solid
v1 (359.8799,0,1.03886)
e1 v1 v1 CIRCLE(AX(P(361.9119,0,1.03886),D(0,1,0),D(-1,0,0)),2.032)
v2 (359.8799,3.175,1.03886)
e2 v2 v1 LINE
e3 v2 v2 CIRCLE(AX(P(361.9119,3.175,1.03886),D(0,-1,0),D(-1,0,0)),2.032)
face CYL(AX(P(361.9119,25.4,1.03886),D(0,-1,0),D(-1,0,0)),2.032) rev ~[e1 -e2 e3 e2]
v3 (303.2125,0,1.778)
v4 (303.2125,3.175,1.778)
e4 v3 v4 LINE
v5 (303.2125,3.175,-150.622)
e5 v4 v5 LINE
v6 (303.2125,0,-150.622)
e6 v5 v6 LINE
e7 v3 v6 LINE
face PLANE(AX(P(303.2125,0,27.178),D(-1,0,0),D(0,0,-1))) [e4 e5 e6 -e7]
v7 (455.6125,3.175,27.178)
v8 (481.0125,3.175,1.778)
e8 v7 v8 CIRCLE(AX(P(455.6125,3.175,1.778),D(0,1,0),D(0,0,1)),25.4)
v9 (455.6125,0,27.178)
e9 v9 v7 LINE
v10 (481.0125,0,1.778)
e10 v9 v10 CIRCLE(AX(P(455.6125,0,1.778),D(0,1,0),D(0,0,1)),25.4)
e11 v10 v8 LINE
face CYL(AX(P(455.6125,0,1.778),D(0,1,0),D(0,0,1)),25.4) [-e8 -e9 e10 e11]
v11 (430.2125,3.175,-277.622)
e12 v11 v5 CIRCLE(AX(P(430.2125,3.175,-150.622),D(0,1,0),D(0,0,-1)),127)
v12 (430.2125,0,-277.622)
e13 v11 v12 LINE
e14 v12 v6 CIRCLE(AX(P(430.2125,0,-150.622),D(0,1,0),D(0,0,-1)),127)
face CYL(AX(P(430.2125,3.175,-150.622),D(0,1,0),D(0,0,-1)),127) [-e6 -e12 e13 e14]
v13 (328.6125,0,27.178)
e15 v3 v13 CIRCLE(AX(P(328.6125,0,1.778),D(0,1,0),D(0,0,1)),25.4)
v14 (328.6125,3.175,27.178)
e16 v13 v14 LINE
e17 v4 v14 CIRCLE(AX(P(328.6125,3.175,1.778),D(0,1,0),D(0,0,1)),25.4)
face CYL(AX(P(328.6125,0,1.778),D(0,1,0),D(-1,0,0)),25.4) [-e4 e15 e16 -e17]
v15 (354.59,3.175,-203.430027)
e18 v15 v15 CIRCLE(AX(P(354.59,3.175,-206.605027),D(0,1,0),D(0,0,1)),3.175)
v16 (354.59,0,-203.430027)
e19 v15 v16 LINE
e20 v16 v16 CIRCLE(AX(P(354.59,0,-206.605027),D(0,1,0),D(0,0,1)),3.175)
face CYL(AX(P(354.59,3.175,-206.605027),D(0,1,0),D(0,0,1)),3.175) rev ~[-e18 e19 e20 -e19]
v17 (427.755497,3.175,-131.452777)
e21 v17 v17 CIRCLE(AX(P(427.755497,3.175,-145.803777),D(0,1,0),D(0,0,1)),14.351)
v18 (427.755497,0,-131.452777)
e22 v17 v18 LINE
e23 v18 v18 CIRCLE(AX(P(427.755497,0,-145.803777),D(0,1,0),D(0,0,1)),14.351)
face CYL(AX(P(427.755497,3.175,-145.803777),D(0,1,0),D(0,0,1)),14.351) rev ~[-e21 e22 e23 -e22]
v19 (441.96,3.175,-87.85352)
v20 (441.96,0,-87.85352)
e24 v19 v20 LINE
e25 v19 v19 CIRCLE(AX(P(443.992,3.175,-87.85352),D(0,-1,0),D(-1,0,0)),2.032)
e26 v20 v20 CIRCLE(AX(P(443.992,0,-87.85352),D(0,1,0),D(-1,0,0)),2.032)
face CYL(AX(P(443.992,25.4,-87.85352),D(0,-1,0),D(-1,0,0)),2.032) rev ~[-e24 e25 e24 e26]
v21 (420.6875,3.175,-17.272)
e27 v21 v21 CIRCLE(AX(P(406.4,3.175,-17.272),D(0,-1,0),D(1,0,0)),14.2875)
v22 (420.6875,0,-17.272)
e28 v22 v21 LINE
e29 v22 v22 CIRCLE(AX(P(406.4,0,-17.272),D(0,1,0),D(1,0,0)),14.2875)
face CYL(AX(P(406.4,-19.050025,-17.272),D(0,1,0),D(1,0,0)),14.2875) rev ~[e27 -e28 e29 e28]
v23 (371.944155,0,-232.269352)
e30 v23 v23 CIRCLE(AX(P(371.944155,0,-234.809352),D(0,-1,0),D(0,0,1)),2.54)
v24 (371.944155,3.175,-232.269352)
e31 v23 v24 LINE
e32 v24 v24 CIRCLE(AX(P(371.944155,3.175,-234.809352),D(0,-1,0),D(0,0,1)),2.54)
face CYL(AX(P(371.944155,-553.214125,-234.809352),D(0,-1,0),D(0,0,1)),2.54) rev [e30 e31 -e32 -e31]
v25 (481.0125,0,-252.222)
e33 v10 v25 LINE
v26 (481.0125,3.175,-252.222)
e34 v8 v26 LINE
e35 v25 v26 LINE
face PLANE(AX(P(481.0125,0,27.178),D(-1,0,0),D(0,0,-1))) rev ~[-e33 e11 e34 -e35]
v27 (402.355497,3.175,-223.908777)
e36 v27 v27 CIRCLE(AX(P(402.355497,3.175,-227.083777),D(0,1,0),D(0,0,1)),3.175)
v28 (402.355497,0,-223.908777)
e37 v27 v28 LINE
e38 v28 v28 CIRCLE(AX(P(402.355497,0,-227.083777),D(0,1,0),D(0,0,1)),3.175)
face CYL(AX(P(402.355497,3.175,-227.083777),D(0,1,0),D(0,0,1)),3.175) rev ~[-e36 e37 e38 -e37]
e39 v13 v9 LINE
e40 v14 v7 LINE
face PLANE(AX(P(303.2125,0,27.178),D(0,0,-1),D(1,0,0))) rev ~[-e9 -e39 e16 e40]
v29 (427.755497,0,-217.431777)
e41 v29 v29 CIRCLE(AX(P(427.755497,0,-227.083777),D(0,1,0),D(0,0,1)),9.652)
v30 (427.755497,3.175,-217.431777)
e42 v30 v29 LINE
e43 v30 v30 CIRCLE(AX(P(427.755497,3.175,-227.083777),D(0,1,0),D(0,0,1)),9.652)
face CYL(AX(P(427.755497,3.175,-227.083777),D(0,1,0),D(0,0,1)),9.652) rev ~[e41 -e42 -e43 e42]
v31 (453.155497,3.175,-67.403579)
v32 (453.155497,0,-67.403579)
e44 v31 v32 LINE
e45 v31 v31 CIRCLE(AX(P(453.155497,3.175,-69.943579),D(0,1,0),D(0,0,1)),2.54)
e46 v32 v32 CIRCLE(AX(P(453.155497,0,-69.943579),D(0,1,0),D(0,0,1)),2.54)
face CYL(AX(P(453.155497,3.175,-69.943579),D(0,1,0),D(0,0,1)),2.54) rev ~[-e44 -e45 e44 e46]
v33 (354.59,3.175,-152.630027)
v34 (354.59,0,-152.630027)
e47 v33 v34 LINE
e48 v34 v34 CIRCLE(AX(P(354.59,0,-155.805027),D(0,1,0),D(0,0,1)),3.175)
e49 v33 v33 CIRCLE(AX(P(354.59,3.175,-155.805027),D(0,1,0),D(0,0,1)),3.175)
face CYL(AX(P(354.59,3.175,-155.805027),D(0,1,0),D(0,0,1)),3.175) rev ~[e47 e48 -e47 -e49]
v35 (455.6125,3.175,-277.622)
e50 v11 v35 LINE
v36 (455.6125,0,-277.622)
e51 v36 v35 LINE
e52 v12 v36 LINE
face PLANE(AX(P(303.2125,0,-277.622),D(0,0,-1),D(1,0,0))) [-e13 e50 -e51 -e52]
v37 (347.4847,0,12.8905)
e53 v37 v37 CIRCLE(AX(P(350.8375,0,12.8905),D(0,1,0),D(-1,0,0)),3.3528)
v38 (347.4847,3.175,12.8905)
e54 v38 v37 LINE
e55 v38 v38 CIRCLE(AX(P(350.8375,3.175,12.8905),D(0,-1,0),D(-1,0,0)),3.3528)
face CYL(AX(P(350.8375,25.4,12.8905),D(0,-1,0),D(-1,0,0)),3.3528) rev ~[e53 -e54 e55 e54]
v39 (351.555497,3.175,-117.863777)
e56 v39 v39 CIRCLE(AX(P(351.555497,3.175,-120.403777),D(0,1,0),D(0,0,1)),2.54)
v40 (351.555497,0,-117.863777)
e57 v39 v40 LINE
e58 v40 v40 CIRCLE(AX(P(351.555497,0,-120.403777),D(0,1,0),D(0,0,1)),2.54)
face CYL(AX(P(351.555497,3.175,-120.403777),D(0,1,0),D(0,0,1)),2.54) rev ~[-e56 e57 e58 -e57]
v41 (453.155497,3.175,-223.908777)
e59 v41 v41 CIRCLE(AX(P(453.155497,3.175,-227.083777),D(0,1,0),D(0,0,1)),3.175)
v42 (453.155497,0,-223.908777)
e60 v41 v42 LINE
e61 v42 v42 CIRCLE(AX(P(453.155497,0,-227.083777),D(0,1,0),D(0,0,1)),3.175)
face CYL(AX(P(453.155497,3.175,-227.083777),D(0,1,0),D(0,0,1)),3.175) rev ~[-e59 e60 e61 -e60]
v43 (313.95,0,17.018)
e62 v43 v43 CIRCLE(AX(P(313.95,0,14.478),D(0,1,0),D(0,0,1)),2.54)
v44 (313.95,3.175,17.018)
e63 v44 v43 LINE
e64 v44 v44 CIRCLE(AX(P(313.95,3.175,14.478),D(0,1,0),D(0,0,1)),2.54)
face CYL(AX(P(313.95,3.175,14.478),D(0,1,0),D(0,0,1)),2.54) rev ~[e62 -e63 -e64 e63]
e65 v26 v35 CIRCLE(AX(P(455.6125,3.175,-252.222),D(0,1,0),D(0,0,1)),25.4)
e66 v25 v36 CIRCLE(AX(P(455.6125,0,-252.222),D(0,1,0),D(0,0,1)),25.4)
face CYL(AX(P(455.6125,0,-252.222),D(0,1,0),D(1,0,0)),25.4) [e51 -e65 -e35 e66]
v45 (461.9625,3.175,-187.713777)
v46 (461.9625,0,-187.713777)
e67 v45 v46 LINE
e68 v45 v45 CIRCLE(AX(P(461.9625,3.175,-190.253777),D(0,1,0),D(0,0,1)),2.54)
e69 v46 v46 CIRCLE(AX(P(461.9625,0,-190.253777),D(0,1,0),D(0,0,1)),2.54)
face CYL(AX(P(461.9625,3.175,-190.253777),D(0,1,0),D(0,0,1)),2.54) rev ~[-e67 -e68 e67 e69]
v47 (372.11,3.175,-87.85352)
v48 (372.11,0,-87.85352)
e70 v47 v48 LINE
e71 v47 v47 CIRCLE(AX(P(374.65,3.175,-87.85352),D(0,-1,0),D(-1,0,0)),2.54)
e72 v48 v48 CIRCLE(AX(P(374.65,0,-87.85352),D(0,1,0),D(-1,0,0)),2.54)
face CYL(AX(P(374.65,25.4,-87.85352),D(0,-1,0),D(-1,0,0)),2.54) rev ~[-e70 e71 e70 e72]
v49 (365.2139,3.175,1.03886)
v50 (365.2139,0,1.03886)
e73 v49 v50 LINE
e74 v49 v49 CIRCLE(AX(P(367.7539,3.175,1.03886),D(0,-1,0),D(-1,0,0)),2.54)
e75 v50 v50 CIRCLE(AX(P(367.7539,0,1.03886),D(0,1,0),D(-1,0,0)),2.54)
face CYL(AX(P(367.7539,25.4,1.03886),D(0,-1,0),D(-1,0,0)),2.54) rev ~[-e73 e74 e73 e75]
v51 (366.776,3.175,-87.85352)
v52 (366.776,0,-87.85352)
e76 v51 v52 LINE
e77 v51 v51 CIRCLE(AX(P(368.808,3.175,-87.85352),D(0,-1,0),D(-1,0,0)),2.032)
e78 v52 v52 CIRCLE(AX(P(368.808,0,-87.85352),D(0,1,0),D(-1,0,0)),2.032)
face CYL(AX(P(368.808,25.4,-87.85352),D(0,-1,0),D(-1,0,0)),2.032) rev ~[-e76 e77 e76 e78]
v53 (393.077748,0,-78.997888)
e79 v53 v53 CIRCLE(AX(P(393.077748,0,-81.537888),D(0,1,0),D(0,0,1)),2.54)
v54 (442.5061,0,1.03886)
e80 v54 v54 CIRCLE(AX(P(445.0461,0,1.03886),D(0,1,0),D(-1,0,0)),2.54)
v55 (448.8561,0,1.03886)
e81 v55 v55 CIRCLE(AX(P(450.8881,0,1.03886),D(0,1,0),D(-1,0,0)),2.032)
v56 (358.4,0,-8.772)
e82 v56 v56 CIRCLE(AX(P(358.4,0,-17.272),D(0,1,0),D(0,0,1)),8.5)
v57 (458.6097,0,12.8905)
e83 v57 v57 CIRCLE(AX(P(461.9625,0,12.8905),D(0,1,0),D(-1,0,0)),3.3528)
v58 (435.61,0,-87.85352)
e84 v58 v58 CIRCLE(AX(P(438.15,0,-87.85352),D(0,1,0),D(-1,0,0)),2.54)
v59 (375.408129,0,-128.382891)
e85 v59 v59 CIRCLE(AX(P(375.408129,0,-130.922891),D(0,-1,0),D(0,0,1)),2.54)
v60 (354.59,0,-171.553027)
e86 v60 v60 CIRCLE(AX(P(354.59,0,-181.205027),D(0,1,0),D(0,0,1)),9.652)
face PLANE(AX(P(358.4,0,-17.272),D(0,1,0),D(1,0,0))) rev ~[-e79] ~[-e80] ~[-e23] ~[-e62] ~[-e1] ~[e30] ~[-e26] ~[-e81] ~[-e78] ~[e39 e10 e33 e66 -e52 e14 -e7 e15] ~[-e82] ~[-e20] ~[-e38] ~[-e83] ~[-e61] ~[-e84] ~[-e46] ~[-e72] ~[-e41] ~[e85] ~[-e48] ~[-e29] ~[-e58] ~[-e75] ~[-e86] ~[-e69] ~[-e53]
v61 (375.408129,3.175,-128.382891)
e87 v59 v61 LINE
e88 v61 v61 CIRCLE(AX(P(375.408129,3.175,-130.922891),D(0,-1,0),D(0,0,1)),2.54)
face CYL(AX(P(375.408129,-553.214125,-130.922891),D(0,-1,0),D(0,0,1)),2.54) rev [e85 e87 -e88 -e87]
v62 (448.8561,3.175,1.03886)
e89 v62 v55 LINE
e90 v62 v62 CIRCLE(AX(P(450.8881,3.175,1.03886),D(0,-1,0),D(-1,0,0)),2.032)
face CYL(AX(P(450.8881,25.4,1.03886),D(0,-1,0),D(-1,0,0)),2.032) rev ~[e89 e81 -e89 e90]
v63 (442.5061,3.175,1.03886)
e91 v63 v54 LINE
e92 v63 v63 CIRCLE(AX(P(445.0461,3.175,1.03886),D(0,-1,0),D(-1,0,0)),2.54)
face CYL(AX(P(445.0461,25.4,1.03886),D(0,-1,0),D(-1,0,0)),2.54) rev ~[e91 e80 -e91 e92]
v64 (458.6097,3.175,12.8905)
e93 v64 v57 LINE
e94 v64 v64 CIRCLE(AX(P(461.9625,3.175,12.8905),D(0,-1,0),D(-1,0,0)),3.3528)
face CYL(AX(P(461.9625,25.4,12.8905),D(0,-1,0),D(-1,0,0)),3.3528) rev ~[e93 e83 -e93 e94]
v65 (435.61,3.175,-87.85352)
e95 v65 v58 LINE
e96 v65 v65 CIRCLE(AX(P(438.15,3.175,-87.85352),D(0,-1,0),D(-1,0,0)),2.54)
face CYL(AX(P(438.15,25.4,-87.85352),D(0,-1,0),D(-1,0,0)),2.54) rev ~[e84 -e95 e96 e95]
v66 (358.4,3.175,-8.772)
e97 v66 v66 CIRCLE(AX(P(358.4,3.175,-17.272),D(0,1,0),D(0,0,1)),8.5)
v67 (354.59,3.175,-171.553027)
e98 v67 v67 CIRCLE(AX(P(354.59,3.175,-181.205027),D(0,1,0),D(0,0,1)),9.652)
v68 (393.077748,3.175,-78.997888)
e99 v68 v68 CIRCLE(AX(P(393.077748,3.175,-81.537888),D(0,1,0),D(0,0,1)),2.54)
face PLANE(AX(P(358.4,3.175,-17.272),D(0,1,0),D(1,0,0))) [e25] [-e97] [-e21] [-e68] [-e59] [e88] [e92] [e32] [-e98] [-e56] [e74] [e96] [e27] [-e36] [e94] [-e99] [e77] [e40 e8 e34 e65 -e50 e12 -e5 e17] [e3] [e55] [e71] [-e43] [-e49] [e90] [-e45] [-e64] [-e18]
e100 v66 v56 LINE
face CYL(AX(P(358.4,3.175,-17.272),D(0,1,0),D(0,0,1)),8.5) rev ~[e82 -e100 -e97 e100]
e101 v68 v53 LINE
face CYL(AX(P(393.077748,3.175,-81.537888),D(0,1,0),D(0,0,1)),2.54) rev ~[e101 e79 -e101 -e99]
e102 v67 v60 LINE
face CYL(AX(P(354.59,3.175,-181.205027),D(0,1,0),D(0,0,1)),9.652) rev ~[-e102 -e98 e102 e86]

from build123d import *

# Parameters (mm, degrees)
SKETCH1_W                  = 355.6
SKETCH1_H                  = 77.724
BOSS_EXTRUDE1_DEPTH        = 22.225
SKETCH2_W                  = 74.549
SKETCH2_H                  = 19.05
CUT_EXTRUDE1_DEPTH         = 364.67400769
SKETCH3_W                  = 25.4
SKETCH3_H                  = 3.937
CUT_EXTRUDE2_DEPTH         = 817.444922817
SKETCH4_W                  = 330.2
SKETCH4_H                  = 3.175
BOSS_EXTRUDE2_DEPTH        = 15.875
SKETCH5_W                  = 69.85
SKETCH5_H                  = 3.175
BOSS_EXTRUDE3_DEPTH        = 457.2
SKETCH6_W                  = 330.2
SKETCH6_H                  = 3.175
BOSS_EXTRUDE4_DEPTH        = 3.937
SKETCH7_W                  = 330.2
SKETCH7_H                  = 3.175
BOSS_EXTRUDE5_DEPTH        = 15.875
SKETCH8_W                  = 355.6
SKETCH8_H                  = 3.175
BOSS_EXTRUDE6_DEPTH        = 3.937
SKETCH9_W                  = 355.6
SKETCH9_H                  = 3.175
BOSS_EXTRUDE7_DEPTH        = 19.05
SKETCH10_W                 = 76.358809824
SKETCH10_H                 = 3.175
BOSS_EXTRUDE8_DEPTH        = 27.432
SKETCH11_W                 = 124.052954744
SKETCH11_H                 = 3.175
BOSS_EXTRUDE9_DEPTH        = 19.05
DRAFT1_ANGLE               = 30
DRAFT2_ANGLE               = 19
M20_CLEARANCE_HOLE1_D      = 22.225
M20_CLEARANCE_HOLE1_DEPTH  = 19.050025
HOLE1_D                    = 8.128
HOLE1_DEPTH                = 22.225
M25_CLEARANCE_HOLE1_D      = 28.575
M25_CLEARANCE_HOLE1_DEPTH  = 22.225
M3_CLEARANCE_HOLE1_D       = 3.571875
M3_CLEARANCE_HOLE1_DEPTH   = 22.225
M2_CLEARANCE_HOLE1_D       = 2.54
M2_CLEARANCE_HOLE1_DEPTH   = 22.225
M3_5_CLEARANCE_HOLE1_D     = 4.064
M3_5_CLEARANCE_HOLE1_DEPTH = 22.225
HOLE2_D                    = 5.08
HOLE2_DEPTH                = 22.225
M25_CLEARANCE_HOLE2_D      = 28.575
M25_CLEARANCE_HOLE2_DEPTH  = 19.050025
HOLE3_D                    = 5.1054
HOLE3_DEPTH                = 19.050025
HOLE4_D                    = 8.128
HOLE4_DEPTH                = 19.050025
M3_CLEARANCE_HOLE2_D       = 3.571875
M3_CLEARANCE_HOLE2_DEPTH   = 19.050025
M6_CLEARANCE_HOLE1_D       = 6.7056
M6_CLEARANCE_HOLE1_DEPTH   = 22.225
M6_CLEARANCE_HOLE2_D       = 6.7056
M6_CLEARANCE_HOLE2_DEPTH   = 101.219
M5_CLEARANCE_HOLE1_D       = 5.334
M5_CLEARANCE_HOLE1_DEPTH   = 92.837
CHAMFER1_SIZE              = 3.175
FILLET1_R                  = 0.762
FILLET2_R                  = 3.175
FILLET3_R                  = 3.937
CUT_EXTRUDE3_DEPTH         = 819.902667079
CUT_EXTRUDE3_DEPTH_BACK    = 819.902667079
BOSS_EXTRUDE10_START       = -3.175
SKETCH45_W                 = 177.8
SKETCH45_H                 = 304.8
SKETCH45_R                 = 2.54
SKETCH45_R_2               = 14.2875
SKETCH45_R_3               = 2.032
SKETCH45_R_4               = 3.3528
BOSS_EXTRUDE10_DEPTH       = 3.175
SKETCH61_R                 = 9.652
SKETCH61_R_2               = 14.351
CUT_EXTRUDE16_DEPTH        = 556.389125447
SKETCH59_R                 = 9.5
CUT_EXTRUDE17_DEPTH        = 556.389125447
SKETCH62_R                 = 3.175
CUT_EXTRUDE18_DEPTH        = 556.389125447
CUT_EXTRUDE19_DEPTH        = 556.389125447
SKETCH70_R                 = 9.5
SKETCH70_R_2               = 8.5
BOSS_EXTRUDE15_DEPTH       = 3.175
SKETCH73_R                 = 2.54
CUT_EXTRUDE21_DEPTH        = 556.389125447
FILLET9_R                  = 25.4
CUT_EXTRUDE23_DEPTH        = 556.389125447
CUT_EXTRUDE23_DEPTH_BACK   = 556.389125447
SKETCH76_R                 = 2.54


with BuildPart() as part:
    # Sketch1 → Boss-Extrude1 (new body)
    with BuildSketch(Plane(origin=(0, 3.175, 0), x_dir=(1, 0, 0), z_dir=(0, 1, 0))):
        with Locations((635, 34.925)):
            Rectangle(SKETCH1_W, SKETCH1_H)
    extrude(amount=-BOSS_EXTRUDE1_DEPTH)

    # Sketch2 → Cut-Extrude1 (cut, through all)
    with BuildSketch(Plane(origin=(812.8, 0, 0), x_dir=(0, 0, -1), z_dir=(1, 0, 0))):
        with Locations((33.3375, -9.525)):
            Rectangle(SKETCH2_W, SKETCH2_H)
    extrude(amount=-CUT_EXTRUDE1_DEPTH, mode=Mode.SUBTRACT)

    # Sketch3 → Cut-Extrude2 (cut, through all)
    with BuildSketch(Plane(origin=(0, 3.175, 0), x_dir=(-1, 0, 0), z_dir=(0, 1, 0))):
        with Locations((-469.9, 1.9685)):
            Rectangle(SKETCH3_W, SKETCH3_H)
    extrude(amount=-CUT_EXTRUDE2_DEPTH, mode=Mode.SUBTRACT)

    # Sketch4 → Boss-Extrude2 (add)
    with BuildSketch(Plane(origin=(0, 3.175, 0), x_dir=(-1, 0, 0), z_dir=(0, 1, 0))):
        with Locations((-647.7, 2.3495)):
            Rectangle(SKETCH4_W, SKETCH4_H)
    extrude(amount=BOSS_EXTRUDE2_DEPTH)

    # Sketch5 → Boss-Extrude3 (add)
    with BuildSketch(Plane.ZY.offset(-457.2)):
        with Locations((-34.925, 1.5875)):
            Rectangle(SKETCH5_W, SKETCH5_H)
    extrude(amount=BOSS_EXTRUDE3_DEPTH)

    # Sketch6 → Boss-Extrude4 (add)
    with BuildSketch(Plane.XY):
        with Locations((165.1, 1.5875)):
            Rectangle(SKETCH6_W, SKETCH6_H)
    extrude(amount=BOSS_EXTRUDE4_DEPTH)

    # Sketch7 → Boss-Extrude5 (add)
    with BuildSketch(Plane(origin=(0, 3.175, 0), x_dir=(-1, 0, 0), z_dir=(0, 1, 0))):
        with Locations((-165.1, 2.3495)):
            Rectangle(SKETCH7_W, SKETCH7_H)
    extrude(amount=BOSS_EXTRUDE5_DEPTH)

    # Sketch8 → Boss-Extrude6 (add)
    with BuildSketch(Plane(origin=(0, 0, -69.85), x_dir=(-1, 0, 0), z_dir=(0, 0, -1))):
        with Locations((-177.8, 1.5875)):
            Rectangle(SKETCH8_W, SKETCH8_H)
    extrude(amount=BOSS_EXTRUDE6_DEPTH)

    # Sketch9 → Boss-Extrude7 (add)
    with BuildSketch(Plane.XZ):
        with Locations((177.8, -72.1995)):
            Rectangle(SKETCH9_W, SKETCH9_H)
    extrude(amount=BOSS_EXTRUDE7_DEPTH)

    # Sketch10 → Boss-Extrude8 (add)
    with BuildSketch(Plane(origin=(0, 0, -69.85), x_dir=(-1, 0, 0), z_dir=(0, 0, -1))):
        with Locations((-406.4, 1.5875)):
            Rectangle(SKETCH10_W, SKETCH10_H)
    extrude(amount=BOSS_EXTRUDE8_DEPTH)

    # Sketch11 → Boss-Extrude9 (add)
    with BuildSketch(Plane.XY):
        with Locations((406.4, 1.5875)):
            Rectangle(SKETCH11_W, SKETCH11_H)
    extrude(amount=BOSS_EXTRUDE9_DEPTH)

    # Draft1
    draft1_faces = [part.faces().sort_by_distance(p)[0] for p in [
        (344.373522628, 1.5875, 9.525),
        (468.426477372, 1.5875, 9.525),
    ]]
    draft(draft1_faces, Plane.XY.offset(19.05), DRAFT1_ANGLE)

    # Draft2
    draft2_faces = [part.faces().sort_by_distance(p)[0] for p in [
        (368.220595088, 1.5875, -83.566),
        (444.579404912, 1.5875, -83.566),
    ]]
    draft(draft2_faces, Plane(origin=(0, 0, -97.282), x_dir=(-1, 0, 0), z_dir=(0, 0, -1)), DRAFT2_ANGLE)

    # M20 Clearance Hole1
    with Locations(Plane(origin=(0, 0, 0), x_dir=(-1, 0, 0), z_dir=(0, -1, 0))):
        with Locations((-624.254637168, 36.83)):
            Hole(M20_CLEARANCE_HOLE1_D / 2, depth=M20_CLEARANCE_HOLE1_DEPTH)

    # Hole1
    with Locations(Plane(origin=(0, 3.175, 0), x_dir=(1, 0, 0), z_dir=(0, 1, 0))):
        with Locations((229.261562832, 36.83), (229.261562832, 62.23), (229.261562832, 11.43)):
            Hole(HOLE1_D / 2, depth=HOLE1_DEPTH)

    # M25 Clearance Hole1
    with Locations(Plane(origin=(0, 3.175, 0), x_dir=(1, 0, 0), z_dir=(0, 1, 0))):
        with Locations((147.829162832, 36.83)):
            Hole(M25_CLEARANCE_HOLE1_D / 2, depth=M25_CLEARANCE_HOLE1_DEPTH)

    # M3 Clearance Hole1
    with Locations(Plane(origin=(0, 3.175, 0), x_dir=(1, 0, 0), z_dir=(0, 1, 0))):
        with Locations((120.600362832, 65.405), (120.600362832, 8.255), (237.440362832, 8.255), (237.440362832, 65.405)):
            Hole(M3_CLEARANCE_HOLE1_D / 2, depth=M3_CLEARANCE_HOLE1_DEPTH)

    # M2 Clearance Hole1
    with Locations(Plane(origin=(0, 3.175, 0), x_dir=(1, 0, 0), z_dir=(0, 1, 0))):
        with Locations((101.6, 3.175), (101.6, 66.675), (50.8, 66.675), (50.8, 3.175), (762, 66.675), (762, 3.175), (711.2, 3.175), (711.2, 66.675)):
            Hole(M2_CLEARANCE_HOLE1_D / 2, depth=M2_CLEARANCE_HOLE1_DEPTH)

    # M3.5 Clearance Hole1
    with Locations(Plane(origin=(0, 3.175, 0), x_dir=(1, 0, 0), z_dir=(0, 1, 0))):
        with Locations((443.992, 87.85352), (368.808, 87.85352), (361.9119, -1.03886), (450.8881, -1.03886)):
            Hole(M3_5_CLEARANCE_HOLE1_D / 2, depth=M3_5_CLEARANCE_HOLE1_DEPTH)

    # Hole2
    with Locations(Plane(origin=(0, 3.175, 0), x_dir=(1, 0, 0), z_dir=(0, 1, 0))):
        with Locations((438.15, 87.85352), (374.65, 87.85352), (445.0461, -1.03886), (367.7539, -1.03886), (115.520362832, 65.405), (115.520362832, 8.255), (242.520362832, 8.255), (242.520362832, 65.405)):
            Hole(HOLE2_D / 2, depth=HOLE2_DEPTH)

    # M25 Clearance Hole2
    with Locations(Plane(origin=(0, 0, 0), x_dir=(-1, 0, 0), z_dir=(0, -1, 0))):
        with Locations((-406.4, 17.272), (-664.970837168, 36.83)):
            Hole(M25_CLEARANCE_HOLE2_D / 2, depth=M25_CLEARANCE_HOLE2_DEPTH)

    # Hole3
    with Locations(Plane(origin=(0, 0, 0), x_dir=(-1, 0, 0), z_dir=(0, -1, 0))):
        with Locations((-570.279637168, 8.255), (-570.279637168, 65.405), (-697.279637168, 65.405), (-697.279637168, 8.255)):
            Hole(HOLE3_D / 2, depth=HOLE3_DEPTH)

    # Hole4
    with Locations(Plane(origin=(0, 0, 0), x_dir=(-1, 0, 0), z_dir=(0, -1, 0))):
        with Locations((-583.538437168, 11.43), (-583.538437168, 36.83), (-583.538437168, 62.23)):
            Hole(HOLE4_D / 2, depth=HOLE4_DEPTH)

    # M3 Clearance Hole2
    with Locations(Plane(origin=(0, 0, 0), x_dir=(-1, 0, 0), z_dir=(0, -1, 0))):
        with Locations((-692.199637168, 8.255), (-692.199637168, 65.405), (-575.359637168, 65.405), (-575.359637168, 8.255)):
            Hole(M3_CLEARANCE_HOLE2_D / 2, depth=M3_CLEARANCE_HOLE2_DEPTH)

    # M6 Clearance Hole1
    with Locations(Plane(origin=(0, 3.175, 0), x_dir=(1, 0, 0), z_dir=(0, 1, 0))):
        with Locations((612.775, 10.287), (498.475, 10.287), (314.325, 10.287), (200.025, 10.287), (628.319218584, 61.976), (184.480781416, 61.976), (690.88, 15.875), (739.902, 9.525), (121.92, 15.875), (72.898, 9.525), (298.874532383, 17.547282407), (513.925467617, 17.547282407), (165.1, 14.732), (266.7, 14.732), (546.1, 14.732), (647.7, 14.732), (330.2, 61.722), (279.4, 61.722), (139.7, 61.722), (25.4, 61.722), (482.6, 61.722), (533.4, 61.722), (673.1, 61.722), (787.4, 61.722), (6.35, 39.497), (806.45, 39.497), (350.8375, -12.8905), (461.9625, -12.8905)):
            Hole(M6_CLEARANCE_HOLE1_D / 2, depth=M6_CLEARANCE_HOLE1_DEPTH)

    # M6 Clearance Hole2
    with Locations(Plane.XY.offset(3.937)):
        with Locations((495.3, 12.7), (520.7, 12.7), (546.1, 12.7), (571.5, 12.7), (596.9, 12.7), (622.3, 12.7), (647.7, 12.7), (673.1, 12.7), (698.5, 12.7), (723.9, 12.7), (749.3, 12.7), (774.7, 12.7), (800.1, 12.7), (317.5, 12.7), (292.1, 12.7), (266.7, 12.7), (241.3, 12.7), (215.9, 12.7), (190.5, 12.7), (165.1, 12.7), (139.7, 12.7), (114.3, 12.7), (88.9, 12.7), (63.5, 12.7), (12.7, 12.7), (38.1, 12.7)):
            Hole(M6_CLEARANCE_HOLE2_D / 2, depth=M6_CLEARANCE_HOLE2_DEPTH)

    # M5 Clearance Hole1
    with Locations(Plane(origin=(0, 0, -73.787), x_dir=(-1, 0, 0), z_dir=(0, 0, -1))):
        with Locations((-469.9, -12.7), (-495.3, -12.7), (-520.7, -12.7), (-546.1, -12.7), (-571.5, -12.7), (-596.9, -12.7), (-622.3, -12.7), (-647.7, -12.7), (-673.1, -12.7), (-698.5, -12.7), (-723.9, -12.7), (-749.3, -12.7), (-774.7, -12.7), (-800.1, -12.7), (-342.9, -12.7), (-317.5, -12.7), (-292.1, -12.7), (-266.7, -12.7), (-241.3, -12.7), (-215.9, -12.7), (-190.5, -12.7), (-165.1, -12.7), (-139.7, -12.7), (-114.3, -12.7), (-88.9, -12.7), (-63.5, -12.7), (-38.1, -12.7), (-12.7, -12.7)):
            Hole(M5_CLEARANCE_HOLE1_D / 2, depth=M5_CLEARANCE_HOLE1_DEPTH)

    # Chamfer1
    chamfer1_edges = [part.edges().sort_by_distance(p)[0] for p in [
        (482.6, 19.05, 2.3495),
        (0, 19.05, 2.3495),
        (812.8, 19.05, 2.3495),
        (812.8, -19.05, -72.1995),
        (457.2, -19.05, -72.1995),
        (0, -19.05, -72.1995),
        (330.2, 19.05, 2.3495),
        (355.6, -19.05, -72.1995),
    ]]
    chamfer(chamfer1_edges, length=CHAMFER1_SIZE)

    # Fillet1
    fillet1_edges = [part.edges().sort_by_distance(p)[0] for p in [
        (647.7, 3.175, 0.762),
        (177.8, 0, -70.612),
        (635, 0, -70.612),
        (165.1, 3.175, 0.762),
    ]]
    fillet(fillet1_edges, radius=FILLET1_R)

    # Fillet2
    fillet2_edges = [part.edges().sort_by_distance(p)[0] for p in [
        (368.220595088, 1.5875, -97.282),
        (333.375, 1.5875, 0),
        (344.373522628, 1.5875, 19.05),
        (444.579404912, 1.5875, -97.282),
        (358.775, 1.5875, -69.85),
        (479.425, 1.5875, 0),
        (468.426477372, 1.5875, 19.05),
        (454.025, 1.5875, -69.85),
    ]]
    fillet(fillet2_edges, radius=FILLET2_R)

    # Fillet3
    fillet3_edges = [part.edges().sort_by_distance(p)[0] for p in [
        (165.1, 0, 3.937),
        (647.7, 0, 3.937),
        (635, 3.175, -73.787),
        (177.8, 3.175, -73.787),
    ]]
    fillet(fillet3_edges, radius=FILLET3_R)

    # Sketch44 → Cut-Extrude3 (cut, two sides: drawn at the far end of the back side and taken through both)
    with BuildSketch(Plane(origin=(0, 3.175, 0), x_dir=(1, 0, 0), z_dir=(0, 1, 0)).offset(-CUT_EXTRUDE3_DEPTH_BACK)):
        Polygon((367.483279101, 95.14067889), (343.456979076, -17.4625), (339.564298226, -35.70618453), (-19.786749283, -35.70618453), (-19.786749283, 120.609234526), (367.483279101, 120.609234526), align=None)
        Polygon((445.316720899, 95.14067889), (445.316720899, 120.609234526), (832.586749283, 120.609234526), (832.586749283, -35.70618453), (473.235701774, -35.70618453), (469.343020924, -17.4625), align=None)
    extrude(amount=CUT_EXTRUDE3_DEPTH + CUT_EXTRUDE3_DEPTH_BACK, mode=Mode.SUBTRACT)

    # Sketch45 → Boss-Extrude10 (add)
    with BuildSketch(Plane(origin=(0, 3.175, 0), x_dir=(1, 0, 0), z_dir=(0, 1, 0)).offset(BOSS_EXTRUDE10_START)):
        with Locations((392.1125, 125.222)):
            Rectangle(SKETCH45_W, SKETCH45_H)
        with Locations(Location((374.65, 87.85352, 0), (0, 0, 270))):
            Circle(SKETCH45_R, mode=Mode.SUBTRACT)
        with Locations(Location((406.4, 17.272, 0), (0, 0, 90))):
            Circle(SKETCH45_R_2, mode=Mode.SUBTRACT)
        with Locations(Location((368.808, 87.85352, 0), (0, 0, 270))):
            Circle(SKETCH45_R_3, mode=Mode.SUBTRACT)
        with Locations(Location((438.15, 87.85352, 0), (0, 0, 270))):
            Circle(SKETCH45_R, mode=Mode.SUBTRACT)
        with Locations(Location((443.992, 87.85352, 0), (0, 0, 270))):
            Circle(SKETCH45_R_3, mode=Mode.SUBTRACT)
        with Locations(Location((445.0461, -1.03886, 0), (0, 0, 270))):
            Circle(SKETCH45_R, mode=Mode.SUBTRACT)
        with Locations(Location((450.8881, -1.03886, 0), (0, 0, 270))):
            Circle(SKETCH45_R_3, mode=Mode.SUBTRACT)
        with Locations(Location((461.9625, -12.8905, 0), (0, 0, 270))):
            Circle(SKETCH45_R_4, mode=Mode.SUBTRACT)
        with Locations(Location((367.7539, -1.03886, 0), (0, 0, 270))):
            Circle(SKETCH45_R, mode=Mode.SUBTRACT)
        with Locations(Location((361.9119, -1.03886, 0), (0, 0, 270))):
            Circle(SKETCH45_R_3, mode=Mode.SUBTRACT)
        with Locations(Location((350.8375, -12.8905, 0), (0, 0, 270))):
            Circle(SKETCH45_R_4, mode=Mode.SUBTRACT)
    extrude(amount=BOSS_EXTRUDE10_DEPTH)

    # Sketch61 → Cut-Extrude16 (cut, through all)
    with BuildSketch(Plane(origin=(0, 3.175, 0), x_dir=(1, 0, 0), z_dir=(0, 1, 0))):
        with Locations(Location((354.59, 181.205026561, 0), (0, 0, 270))):
            Circle(SKETCH61_R)
        with Locations(Location((427.755496639, 227.083776561, 0), (0, 0, 270))):
            Circle(SKETCH61_R)
        with Locations(Location((427.755496639, 145.803776561, 0), (0, 0, 270))):
            Circle(SKETCH61_R_2)
    extrude(amount=-CUT_EXTRUDE16_DEPTH, mode=Mode.SUBTRACT)

    # Sketch59 → Cut-Extrude17 (cut, through all)
    with BuildSketch(Plane(origin=(0, 3.175, 0), x_dir=(1, 0, 0), z_dir=(0, 1, 0))):
        with Locations(Location((358.4, 17.272, 0), (0, 0, 270))):
            Circle(SKETCH59_R)
    extrude(amount=-CUT_EXTRUDE17_DEPTH, mode=Mode.SUBTRACT)

    # Sketch62 → Cut-Extrude18 (cut, through all)
    with BuildSketch(Plane(origin=(0, 3.175, 0), x_dir=(1, 0, 0), z_dir=(0, 1, 0))):
        with Locations(Location((354.59, 206.605026561, 0), (0, 0, 270))):
            Circle(SKETCH62_R)
        with Locations(Location((354.59, 155.805026561, 0), (0, 0, 270))):
            Circle(SKETCH62_R)
        with Locations(Location((402.355496639, 227.083776561, 0), (0, 0, 270))):
            Circle(SKETCH62_R)
        with Locations(Location((453.155496639, 227.083776561, 0), (0, 0, 270))):
            Circle(SKETCH62_R)
    extrude(amount=-CUT_EXTRUDE18_DEPTH, mode=Mode.SUBTRACT)

    # Sketch64 → Cut-Extrude19 (cut, through all)
    with BuildSketch(Plane(origin=(0, 3.175, 0), x_dir=(1, 0, 0), z_dir=(0, 1, 0))):
        with BuildLine():
            Line((303.2125, 150.622), (303.2125, 277.622))
            Line((303.2125, 277.622), (430.2125, 277.622))
            ThreePointArc((430.2125, 277.622), (340.409938789, 240.424561211), (303.2125, 150.622))
        make_face()
    extrude(amount=-CUT_EXTRUDE19_DEPTH, mode=Mode.SUBTRACT)

    # Sketch70 → Boss-Extrude15 (add)
    with BuildSketch(Plane(origin=(0, 3.175, 0), x_dir=(1, 0, 0), z_dir=(0, 1, 0))):
        with Locations((358.4, 17.272)):
            Circle(SKETCH70_R)
        with Locations(Location((358.4, 17.272, 0), (0, 0, 270))):
            Circle(SKETCH70_R_2, mode=Mode.SUBTRACT)
    extrude(amount=-BOSS_EXTRUDE15_DEPTH)

    # Sketch73 → Cut-Extrude21 (cut, through all)
    with BuildSketch(Plane(origin=(0, 3.175, 0), x_dir=(1, 0, 0), z_dir=(0, 1, 0))):
        with Locations(Location((453.155496639, 69.943578721, 0), (0, 0, 270))):
            Circle(SKETCH73_R)
        with Locations(Location((461.9625, 190.253776561, 0), (0, 0, 270))):
            Circle(SKETCH73_R)
        with Locations(Location((351.555496639, 120.403776561, 0), (0, 0, 270))):
            Circle(SKETCH73_R)
        with Locations(Location((393.07774832, 81.537888281, 0), (0, 0, 270))):
            Circle(SKETCH73_R)
        with Locations(Location((313.95, -14.478, 0), (0, 0, 270))):
            Circle(SKETCH73_R)
    extrude(amount=-CUT_EXTRUDE21_DEPTH, mode=Mode.SUBTRACT)

    # Fillet9
    fillet9_edges = [part.edges().sort_by_distance(p)[0] for p in [
        (303.2125, 1.5875, 27.178),
        (481.0125, 1.5875, 27.178),
        (481.0125, 1.5875, -277.622),
    ]]
    fillet(fillet9_edges, radius=FILLET9_R)

    # Sketch76 → Cut-Extrude23 (cut, two sides: drawn at the far end of the back side and taken through both)
    with BuildSketch(Plane(origin=(0, 3.175, 0), x_dir=(1, 0, 0), z_dir=(0, 1, 0)).offset(-CUT_EXTRUDE23_DEPTH_BACK)):
        with Locations(Location((371.94415457, 234.809352358, 0), (0, 0, 270))):
            Circle(SKETCH76_R)
        with Locations(Location((375.408129179, 130.922891339, 0), (0, 0, 270))):
            Circle(SKETCH76_R)
    extrude(amount=CUT_EXTRUDE23_DEPTH + CUT_EXTRUDE23_DEPTH_BACK, mode=Mode.SUBTRACT)


solid = part.part
